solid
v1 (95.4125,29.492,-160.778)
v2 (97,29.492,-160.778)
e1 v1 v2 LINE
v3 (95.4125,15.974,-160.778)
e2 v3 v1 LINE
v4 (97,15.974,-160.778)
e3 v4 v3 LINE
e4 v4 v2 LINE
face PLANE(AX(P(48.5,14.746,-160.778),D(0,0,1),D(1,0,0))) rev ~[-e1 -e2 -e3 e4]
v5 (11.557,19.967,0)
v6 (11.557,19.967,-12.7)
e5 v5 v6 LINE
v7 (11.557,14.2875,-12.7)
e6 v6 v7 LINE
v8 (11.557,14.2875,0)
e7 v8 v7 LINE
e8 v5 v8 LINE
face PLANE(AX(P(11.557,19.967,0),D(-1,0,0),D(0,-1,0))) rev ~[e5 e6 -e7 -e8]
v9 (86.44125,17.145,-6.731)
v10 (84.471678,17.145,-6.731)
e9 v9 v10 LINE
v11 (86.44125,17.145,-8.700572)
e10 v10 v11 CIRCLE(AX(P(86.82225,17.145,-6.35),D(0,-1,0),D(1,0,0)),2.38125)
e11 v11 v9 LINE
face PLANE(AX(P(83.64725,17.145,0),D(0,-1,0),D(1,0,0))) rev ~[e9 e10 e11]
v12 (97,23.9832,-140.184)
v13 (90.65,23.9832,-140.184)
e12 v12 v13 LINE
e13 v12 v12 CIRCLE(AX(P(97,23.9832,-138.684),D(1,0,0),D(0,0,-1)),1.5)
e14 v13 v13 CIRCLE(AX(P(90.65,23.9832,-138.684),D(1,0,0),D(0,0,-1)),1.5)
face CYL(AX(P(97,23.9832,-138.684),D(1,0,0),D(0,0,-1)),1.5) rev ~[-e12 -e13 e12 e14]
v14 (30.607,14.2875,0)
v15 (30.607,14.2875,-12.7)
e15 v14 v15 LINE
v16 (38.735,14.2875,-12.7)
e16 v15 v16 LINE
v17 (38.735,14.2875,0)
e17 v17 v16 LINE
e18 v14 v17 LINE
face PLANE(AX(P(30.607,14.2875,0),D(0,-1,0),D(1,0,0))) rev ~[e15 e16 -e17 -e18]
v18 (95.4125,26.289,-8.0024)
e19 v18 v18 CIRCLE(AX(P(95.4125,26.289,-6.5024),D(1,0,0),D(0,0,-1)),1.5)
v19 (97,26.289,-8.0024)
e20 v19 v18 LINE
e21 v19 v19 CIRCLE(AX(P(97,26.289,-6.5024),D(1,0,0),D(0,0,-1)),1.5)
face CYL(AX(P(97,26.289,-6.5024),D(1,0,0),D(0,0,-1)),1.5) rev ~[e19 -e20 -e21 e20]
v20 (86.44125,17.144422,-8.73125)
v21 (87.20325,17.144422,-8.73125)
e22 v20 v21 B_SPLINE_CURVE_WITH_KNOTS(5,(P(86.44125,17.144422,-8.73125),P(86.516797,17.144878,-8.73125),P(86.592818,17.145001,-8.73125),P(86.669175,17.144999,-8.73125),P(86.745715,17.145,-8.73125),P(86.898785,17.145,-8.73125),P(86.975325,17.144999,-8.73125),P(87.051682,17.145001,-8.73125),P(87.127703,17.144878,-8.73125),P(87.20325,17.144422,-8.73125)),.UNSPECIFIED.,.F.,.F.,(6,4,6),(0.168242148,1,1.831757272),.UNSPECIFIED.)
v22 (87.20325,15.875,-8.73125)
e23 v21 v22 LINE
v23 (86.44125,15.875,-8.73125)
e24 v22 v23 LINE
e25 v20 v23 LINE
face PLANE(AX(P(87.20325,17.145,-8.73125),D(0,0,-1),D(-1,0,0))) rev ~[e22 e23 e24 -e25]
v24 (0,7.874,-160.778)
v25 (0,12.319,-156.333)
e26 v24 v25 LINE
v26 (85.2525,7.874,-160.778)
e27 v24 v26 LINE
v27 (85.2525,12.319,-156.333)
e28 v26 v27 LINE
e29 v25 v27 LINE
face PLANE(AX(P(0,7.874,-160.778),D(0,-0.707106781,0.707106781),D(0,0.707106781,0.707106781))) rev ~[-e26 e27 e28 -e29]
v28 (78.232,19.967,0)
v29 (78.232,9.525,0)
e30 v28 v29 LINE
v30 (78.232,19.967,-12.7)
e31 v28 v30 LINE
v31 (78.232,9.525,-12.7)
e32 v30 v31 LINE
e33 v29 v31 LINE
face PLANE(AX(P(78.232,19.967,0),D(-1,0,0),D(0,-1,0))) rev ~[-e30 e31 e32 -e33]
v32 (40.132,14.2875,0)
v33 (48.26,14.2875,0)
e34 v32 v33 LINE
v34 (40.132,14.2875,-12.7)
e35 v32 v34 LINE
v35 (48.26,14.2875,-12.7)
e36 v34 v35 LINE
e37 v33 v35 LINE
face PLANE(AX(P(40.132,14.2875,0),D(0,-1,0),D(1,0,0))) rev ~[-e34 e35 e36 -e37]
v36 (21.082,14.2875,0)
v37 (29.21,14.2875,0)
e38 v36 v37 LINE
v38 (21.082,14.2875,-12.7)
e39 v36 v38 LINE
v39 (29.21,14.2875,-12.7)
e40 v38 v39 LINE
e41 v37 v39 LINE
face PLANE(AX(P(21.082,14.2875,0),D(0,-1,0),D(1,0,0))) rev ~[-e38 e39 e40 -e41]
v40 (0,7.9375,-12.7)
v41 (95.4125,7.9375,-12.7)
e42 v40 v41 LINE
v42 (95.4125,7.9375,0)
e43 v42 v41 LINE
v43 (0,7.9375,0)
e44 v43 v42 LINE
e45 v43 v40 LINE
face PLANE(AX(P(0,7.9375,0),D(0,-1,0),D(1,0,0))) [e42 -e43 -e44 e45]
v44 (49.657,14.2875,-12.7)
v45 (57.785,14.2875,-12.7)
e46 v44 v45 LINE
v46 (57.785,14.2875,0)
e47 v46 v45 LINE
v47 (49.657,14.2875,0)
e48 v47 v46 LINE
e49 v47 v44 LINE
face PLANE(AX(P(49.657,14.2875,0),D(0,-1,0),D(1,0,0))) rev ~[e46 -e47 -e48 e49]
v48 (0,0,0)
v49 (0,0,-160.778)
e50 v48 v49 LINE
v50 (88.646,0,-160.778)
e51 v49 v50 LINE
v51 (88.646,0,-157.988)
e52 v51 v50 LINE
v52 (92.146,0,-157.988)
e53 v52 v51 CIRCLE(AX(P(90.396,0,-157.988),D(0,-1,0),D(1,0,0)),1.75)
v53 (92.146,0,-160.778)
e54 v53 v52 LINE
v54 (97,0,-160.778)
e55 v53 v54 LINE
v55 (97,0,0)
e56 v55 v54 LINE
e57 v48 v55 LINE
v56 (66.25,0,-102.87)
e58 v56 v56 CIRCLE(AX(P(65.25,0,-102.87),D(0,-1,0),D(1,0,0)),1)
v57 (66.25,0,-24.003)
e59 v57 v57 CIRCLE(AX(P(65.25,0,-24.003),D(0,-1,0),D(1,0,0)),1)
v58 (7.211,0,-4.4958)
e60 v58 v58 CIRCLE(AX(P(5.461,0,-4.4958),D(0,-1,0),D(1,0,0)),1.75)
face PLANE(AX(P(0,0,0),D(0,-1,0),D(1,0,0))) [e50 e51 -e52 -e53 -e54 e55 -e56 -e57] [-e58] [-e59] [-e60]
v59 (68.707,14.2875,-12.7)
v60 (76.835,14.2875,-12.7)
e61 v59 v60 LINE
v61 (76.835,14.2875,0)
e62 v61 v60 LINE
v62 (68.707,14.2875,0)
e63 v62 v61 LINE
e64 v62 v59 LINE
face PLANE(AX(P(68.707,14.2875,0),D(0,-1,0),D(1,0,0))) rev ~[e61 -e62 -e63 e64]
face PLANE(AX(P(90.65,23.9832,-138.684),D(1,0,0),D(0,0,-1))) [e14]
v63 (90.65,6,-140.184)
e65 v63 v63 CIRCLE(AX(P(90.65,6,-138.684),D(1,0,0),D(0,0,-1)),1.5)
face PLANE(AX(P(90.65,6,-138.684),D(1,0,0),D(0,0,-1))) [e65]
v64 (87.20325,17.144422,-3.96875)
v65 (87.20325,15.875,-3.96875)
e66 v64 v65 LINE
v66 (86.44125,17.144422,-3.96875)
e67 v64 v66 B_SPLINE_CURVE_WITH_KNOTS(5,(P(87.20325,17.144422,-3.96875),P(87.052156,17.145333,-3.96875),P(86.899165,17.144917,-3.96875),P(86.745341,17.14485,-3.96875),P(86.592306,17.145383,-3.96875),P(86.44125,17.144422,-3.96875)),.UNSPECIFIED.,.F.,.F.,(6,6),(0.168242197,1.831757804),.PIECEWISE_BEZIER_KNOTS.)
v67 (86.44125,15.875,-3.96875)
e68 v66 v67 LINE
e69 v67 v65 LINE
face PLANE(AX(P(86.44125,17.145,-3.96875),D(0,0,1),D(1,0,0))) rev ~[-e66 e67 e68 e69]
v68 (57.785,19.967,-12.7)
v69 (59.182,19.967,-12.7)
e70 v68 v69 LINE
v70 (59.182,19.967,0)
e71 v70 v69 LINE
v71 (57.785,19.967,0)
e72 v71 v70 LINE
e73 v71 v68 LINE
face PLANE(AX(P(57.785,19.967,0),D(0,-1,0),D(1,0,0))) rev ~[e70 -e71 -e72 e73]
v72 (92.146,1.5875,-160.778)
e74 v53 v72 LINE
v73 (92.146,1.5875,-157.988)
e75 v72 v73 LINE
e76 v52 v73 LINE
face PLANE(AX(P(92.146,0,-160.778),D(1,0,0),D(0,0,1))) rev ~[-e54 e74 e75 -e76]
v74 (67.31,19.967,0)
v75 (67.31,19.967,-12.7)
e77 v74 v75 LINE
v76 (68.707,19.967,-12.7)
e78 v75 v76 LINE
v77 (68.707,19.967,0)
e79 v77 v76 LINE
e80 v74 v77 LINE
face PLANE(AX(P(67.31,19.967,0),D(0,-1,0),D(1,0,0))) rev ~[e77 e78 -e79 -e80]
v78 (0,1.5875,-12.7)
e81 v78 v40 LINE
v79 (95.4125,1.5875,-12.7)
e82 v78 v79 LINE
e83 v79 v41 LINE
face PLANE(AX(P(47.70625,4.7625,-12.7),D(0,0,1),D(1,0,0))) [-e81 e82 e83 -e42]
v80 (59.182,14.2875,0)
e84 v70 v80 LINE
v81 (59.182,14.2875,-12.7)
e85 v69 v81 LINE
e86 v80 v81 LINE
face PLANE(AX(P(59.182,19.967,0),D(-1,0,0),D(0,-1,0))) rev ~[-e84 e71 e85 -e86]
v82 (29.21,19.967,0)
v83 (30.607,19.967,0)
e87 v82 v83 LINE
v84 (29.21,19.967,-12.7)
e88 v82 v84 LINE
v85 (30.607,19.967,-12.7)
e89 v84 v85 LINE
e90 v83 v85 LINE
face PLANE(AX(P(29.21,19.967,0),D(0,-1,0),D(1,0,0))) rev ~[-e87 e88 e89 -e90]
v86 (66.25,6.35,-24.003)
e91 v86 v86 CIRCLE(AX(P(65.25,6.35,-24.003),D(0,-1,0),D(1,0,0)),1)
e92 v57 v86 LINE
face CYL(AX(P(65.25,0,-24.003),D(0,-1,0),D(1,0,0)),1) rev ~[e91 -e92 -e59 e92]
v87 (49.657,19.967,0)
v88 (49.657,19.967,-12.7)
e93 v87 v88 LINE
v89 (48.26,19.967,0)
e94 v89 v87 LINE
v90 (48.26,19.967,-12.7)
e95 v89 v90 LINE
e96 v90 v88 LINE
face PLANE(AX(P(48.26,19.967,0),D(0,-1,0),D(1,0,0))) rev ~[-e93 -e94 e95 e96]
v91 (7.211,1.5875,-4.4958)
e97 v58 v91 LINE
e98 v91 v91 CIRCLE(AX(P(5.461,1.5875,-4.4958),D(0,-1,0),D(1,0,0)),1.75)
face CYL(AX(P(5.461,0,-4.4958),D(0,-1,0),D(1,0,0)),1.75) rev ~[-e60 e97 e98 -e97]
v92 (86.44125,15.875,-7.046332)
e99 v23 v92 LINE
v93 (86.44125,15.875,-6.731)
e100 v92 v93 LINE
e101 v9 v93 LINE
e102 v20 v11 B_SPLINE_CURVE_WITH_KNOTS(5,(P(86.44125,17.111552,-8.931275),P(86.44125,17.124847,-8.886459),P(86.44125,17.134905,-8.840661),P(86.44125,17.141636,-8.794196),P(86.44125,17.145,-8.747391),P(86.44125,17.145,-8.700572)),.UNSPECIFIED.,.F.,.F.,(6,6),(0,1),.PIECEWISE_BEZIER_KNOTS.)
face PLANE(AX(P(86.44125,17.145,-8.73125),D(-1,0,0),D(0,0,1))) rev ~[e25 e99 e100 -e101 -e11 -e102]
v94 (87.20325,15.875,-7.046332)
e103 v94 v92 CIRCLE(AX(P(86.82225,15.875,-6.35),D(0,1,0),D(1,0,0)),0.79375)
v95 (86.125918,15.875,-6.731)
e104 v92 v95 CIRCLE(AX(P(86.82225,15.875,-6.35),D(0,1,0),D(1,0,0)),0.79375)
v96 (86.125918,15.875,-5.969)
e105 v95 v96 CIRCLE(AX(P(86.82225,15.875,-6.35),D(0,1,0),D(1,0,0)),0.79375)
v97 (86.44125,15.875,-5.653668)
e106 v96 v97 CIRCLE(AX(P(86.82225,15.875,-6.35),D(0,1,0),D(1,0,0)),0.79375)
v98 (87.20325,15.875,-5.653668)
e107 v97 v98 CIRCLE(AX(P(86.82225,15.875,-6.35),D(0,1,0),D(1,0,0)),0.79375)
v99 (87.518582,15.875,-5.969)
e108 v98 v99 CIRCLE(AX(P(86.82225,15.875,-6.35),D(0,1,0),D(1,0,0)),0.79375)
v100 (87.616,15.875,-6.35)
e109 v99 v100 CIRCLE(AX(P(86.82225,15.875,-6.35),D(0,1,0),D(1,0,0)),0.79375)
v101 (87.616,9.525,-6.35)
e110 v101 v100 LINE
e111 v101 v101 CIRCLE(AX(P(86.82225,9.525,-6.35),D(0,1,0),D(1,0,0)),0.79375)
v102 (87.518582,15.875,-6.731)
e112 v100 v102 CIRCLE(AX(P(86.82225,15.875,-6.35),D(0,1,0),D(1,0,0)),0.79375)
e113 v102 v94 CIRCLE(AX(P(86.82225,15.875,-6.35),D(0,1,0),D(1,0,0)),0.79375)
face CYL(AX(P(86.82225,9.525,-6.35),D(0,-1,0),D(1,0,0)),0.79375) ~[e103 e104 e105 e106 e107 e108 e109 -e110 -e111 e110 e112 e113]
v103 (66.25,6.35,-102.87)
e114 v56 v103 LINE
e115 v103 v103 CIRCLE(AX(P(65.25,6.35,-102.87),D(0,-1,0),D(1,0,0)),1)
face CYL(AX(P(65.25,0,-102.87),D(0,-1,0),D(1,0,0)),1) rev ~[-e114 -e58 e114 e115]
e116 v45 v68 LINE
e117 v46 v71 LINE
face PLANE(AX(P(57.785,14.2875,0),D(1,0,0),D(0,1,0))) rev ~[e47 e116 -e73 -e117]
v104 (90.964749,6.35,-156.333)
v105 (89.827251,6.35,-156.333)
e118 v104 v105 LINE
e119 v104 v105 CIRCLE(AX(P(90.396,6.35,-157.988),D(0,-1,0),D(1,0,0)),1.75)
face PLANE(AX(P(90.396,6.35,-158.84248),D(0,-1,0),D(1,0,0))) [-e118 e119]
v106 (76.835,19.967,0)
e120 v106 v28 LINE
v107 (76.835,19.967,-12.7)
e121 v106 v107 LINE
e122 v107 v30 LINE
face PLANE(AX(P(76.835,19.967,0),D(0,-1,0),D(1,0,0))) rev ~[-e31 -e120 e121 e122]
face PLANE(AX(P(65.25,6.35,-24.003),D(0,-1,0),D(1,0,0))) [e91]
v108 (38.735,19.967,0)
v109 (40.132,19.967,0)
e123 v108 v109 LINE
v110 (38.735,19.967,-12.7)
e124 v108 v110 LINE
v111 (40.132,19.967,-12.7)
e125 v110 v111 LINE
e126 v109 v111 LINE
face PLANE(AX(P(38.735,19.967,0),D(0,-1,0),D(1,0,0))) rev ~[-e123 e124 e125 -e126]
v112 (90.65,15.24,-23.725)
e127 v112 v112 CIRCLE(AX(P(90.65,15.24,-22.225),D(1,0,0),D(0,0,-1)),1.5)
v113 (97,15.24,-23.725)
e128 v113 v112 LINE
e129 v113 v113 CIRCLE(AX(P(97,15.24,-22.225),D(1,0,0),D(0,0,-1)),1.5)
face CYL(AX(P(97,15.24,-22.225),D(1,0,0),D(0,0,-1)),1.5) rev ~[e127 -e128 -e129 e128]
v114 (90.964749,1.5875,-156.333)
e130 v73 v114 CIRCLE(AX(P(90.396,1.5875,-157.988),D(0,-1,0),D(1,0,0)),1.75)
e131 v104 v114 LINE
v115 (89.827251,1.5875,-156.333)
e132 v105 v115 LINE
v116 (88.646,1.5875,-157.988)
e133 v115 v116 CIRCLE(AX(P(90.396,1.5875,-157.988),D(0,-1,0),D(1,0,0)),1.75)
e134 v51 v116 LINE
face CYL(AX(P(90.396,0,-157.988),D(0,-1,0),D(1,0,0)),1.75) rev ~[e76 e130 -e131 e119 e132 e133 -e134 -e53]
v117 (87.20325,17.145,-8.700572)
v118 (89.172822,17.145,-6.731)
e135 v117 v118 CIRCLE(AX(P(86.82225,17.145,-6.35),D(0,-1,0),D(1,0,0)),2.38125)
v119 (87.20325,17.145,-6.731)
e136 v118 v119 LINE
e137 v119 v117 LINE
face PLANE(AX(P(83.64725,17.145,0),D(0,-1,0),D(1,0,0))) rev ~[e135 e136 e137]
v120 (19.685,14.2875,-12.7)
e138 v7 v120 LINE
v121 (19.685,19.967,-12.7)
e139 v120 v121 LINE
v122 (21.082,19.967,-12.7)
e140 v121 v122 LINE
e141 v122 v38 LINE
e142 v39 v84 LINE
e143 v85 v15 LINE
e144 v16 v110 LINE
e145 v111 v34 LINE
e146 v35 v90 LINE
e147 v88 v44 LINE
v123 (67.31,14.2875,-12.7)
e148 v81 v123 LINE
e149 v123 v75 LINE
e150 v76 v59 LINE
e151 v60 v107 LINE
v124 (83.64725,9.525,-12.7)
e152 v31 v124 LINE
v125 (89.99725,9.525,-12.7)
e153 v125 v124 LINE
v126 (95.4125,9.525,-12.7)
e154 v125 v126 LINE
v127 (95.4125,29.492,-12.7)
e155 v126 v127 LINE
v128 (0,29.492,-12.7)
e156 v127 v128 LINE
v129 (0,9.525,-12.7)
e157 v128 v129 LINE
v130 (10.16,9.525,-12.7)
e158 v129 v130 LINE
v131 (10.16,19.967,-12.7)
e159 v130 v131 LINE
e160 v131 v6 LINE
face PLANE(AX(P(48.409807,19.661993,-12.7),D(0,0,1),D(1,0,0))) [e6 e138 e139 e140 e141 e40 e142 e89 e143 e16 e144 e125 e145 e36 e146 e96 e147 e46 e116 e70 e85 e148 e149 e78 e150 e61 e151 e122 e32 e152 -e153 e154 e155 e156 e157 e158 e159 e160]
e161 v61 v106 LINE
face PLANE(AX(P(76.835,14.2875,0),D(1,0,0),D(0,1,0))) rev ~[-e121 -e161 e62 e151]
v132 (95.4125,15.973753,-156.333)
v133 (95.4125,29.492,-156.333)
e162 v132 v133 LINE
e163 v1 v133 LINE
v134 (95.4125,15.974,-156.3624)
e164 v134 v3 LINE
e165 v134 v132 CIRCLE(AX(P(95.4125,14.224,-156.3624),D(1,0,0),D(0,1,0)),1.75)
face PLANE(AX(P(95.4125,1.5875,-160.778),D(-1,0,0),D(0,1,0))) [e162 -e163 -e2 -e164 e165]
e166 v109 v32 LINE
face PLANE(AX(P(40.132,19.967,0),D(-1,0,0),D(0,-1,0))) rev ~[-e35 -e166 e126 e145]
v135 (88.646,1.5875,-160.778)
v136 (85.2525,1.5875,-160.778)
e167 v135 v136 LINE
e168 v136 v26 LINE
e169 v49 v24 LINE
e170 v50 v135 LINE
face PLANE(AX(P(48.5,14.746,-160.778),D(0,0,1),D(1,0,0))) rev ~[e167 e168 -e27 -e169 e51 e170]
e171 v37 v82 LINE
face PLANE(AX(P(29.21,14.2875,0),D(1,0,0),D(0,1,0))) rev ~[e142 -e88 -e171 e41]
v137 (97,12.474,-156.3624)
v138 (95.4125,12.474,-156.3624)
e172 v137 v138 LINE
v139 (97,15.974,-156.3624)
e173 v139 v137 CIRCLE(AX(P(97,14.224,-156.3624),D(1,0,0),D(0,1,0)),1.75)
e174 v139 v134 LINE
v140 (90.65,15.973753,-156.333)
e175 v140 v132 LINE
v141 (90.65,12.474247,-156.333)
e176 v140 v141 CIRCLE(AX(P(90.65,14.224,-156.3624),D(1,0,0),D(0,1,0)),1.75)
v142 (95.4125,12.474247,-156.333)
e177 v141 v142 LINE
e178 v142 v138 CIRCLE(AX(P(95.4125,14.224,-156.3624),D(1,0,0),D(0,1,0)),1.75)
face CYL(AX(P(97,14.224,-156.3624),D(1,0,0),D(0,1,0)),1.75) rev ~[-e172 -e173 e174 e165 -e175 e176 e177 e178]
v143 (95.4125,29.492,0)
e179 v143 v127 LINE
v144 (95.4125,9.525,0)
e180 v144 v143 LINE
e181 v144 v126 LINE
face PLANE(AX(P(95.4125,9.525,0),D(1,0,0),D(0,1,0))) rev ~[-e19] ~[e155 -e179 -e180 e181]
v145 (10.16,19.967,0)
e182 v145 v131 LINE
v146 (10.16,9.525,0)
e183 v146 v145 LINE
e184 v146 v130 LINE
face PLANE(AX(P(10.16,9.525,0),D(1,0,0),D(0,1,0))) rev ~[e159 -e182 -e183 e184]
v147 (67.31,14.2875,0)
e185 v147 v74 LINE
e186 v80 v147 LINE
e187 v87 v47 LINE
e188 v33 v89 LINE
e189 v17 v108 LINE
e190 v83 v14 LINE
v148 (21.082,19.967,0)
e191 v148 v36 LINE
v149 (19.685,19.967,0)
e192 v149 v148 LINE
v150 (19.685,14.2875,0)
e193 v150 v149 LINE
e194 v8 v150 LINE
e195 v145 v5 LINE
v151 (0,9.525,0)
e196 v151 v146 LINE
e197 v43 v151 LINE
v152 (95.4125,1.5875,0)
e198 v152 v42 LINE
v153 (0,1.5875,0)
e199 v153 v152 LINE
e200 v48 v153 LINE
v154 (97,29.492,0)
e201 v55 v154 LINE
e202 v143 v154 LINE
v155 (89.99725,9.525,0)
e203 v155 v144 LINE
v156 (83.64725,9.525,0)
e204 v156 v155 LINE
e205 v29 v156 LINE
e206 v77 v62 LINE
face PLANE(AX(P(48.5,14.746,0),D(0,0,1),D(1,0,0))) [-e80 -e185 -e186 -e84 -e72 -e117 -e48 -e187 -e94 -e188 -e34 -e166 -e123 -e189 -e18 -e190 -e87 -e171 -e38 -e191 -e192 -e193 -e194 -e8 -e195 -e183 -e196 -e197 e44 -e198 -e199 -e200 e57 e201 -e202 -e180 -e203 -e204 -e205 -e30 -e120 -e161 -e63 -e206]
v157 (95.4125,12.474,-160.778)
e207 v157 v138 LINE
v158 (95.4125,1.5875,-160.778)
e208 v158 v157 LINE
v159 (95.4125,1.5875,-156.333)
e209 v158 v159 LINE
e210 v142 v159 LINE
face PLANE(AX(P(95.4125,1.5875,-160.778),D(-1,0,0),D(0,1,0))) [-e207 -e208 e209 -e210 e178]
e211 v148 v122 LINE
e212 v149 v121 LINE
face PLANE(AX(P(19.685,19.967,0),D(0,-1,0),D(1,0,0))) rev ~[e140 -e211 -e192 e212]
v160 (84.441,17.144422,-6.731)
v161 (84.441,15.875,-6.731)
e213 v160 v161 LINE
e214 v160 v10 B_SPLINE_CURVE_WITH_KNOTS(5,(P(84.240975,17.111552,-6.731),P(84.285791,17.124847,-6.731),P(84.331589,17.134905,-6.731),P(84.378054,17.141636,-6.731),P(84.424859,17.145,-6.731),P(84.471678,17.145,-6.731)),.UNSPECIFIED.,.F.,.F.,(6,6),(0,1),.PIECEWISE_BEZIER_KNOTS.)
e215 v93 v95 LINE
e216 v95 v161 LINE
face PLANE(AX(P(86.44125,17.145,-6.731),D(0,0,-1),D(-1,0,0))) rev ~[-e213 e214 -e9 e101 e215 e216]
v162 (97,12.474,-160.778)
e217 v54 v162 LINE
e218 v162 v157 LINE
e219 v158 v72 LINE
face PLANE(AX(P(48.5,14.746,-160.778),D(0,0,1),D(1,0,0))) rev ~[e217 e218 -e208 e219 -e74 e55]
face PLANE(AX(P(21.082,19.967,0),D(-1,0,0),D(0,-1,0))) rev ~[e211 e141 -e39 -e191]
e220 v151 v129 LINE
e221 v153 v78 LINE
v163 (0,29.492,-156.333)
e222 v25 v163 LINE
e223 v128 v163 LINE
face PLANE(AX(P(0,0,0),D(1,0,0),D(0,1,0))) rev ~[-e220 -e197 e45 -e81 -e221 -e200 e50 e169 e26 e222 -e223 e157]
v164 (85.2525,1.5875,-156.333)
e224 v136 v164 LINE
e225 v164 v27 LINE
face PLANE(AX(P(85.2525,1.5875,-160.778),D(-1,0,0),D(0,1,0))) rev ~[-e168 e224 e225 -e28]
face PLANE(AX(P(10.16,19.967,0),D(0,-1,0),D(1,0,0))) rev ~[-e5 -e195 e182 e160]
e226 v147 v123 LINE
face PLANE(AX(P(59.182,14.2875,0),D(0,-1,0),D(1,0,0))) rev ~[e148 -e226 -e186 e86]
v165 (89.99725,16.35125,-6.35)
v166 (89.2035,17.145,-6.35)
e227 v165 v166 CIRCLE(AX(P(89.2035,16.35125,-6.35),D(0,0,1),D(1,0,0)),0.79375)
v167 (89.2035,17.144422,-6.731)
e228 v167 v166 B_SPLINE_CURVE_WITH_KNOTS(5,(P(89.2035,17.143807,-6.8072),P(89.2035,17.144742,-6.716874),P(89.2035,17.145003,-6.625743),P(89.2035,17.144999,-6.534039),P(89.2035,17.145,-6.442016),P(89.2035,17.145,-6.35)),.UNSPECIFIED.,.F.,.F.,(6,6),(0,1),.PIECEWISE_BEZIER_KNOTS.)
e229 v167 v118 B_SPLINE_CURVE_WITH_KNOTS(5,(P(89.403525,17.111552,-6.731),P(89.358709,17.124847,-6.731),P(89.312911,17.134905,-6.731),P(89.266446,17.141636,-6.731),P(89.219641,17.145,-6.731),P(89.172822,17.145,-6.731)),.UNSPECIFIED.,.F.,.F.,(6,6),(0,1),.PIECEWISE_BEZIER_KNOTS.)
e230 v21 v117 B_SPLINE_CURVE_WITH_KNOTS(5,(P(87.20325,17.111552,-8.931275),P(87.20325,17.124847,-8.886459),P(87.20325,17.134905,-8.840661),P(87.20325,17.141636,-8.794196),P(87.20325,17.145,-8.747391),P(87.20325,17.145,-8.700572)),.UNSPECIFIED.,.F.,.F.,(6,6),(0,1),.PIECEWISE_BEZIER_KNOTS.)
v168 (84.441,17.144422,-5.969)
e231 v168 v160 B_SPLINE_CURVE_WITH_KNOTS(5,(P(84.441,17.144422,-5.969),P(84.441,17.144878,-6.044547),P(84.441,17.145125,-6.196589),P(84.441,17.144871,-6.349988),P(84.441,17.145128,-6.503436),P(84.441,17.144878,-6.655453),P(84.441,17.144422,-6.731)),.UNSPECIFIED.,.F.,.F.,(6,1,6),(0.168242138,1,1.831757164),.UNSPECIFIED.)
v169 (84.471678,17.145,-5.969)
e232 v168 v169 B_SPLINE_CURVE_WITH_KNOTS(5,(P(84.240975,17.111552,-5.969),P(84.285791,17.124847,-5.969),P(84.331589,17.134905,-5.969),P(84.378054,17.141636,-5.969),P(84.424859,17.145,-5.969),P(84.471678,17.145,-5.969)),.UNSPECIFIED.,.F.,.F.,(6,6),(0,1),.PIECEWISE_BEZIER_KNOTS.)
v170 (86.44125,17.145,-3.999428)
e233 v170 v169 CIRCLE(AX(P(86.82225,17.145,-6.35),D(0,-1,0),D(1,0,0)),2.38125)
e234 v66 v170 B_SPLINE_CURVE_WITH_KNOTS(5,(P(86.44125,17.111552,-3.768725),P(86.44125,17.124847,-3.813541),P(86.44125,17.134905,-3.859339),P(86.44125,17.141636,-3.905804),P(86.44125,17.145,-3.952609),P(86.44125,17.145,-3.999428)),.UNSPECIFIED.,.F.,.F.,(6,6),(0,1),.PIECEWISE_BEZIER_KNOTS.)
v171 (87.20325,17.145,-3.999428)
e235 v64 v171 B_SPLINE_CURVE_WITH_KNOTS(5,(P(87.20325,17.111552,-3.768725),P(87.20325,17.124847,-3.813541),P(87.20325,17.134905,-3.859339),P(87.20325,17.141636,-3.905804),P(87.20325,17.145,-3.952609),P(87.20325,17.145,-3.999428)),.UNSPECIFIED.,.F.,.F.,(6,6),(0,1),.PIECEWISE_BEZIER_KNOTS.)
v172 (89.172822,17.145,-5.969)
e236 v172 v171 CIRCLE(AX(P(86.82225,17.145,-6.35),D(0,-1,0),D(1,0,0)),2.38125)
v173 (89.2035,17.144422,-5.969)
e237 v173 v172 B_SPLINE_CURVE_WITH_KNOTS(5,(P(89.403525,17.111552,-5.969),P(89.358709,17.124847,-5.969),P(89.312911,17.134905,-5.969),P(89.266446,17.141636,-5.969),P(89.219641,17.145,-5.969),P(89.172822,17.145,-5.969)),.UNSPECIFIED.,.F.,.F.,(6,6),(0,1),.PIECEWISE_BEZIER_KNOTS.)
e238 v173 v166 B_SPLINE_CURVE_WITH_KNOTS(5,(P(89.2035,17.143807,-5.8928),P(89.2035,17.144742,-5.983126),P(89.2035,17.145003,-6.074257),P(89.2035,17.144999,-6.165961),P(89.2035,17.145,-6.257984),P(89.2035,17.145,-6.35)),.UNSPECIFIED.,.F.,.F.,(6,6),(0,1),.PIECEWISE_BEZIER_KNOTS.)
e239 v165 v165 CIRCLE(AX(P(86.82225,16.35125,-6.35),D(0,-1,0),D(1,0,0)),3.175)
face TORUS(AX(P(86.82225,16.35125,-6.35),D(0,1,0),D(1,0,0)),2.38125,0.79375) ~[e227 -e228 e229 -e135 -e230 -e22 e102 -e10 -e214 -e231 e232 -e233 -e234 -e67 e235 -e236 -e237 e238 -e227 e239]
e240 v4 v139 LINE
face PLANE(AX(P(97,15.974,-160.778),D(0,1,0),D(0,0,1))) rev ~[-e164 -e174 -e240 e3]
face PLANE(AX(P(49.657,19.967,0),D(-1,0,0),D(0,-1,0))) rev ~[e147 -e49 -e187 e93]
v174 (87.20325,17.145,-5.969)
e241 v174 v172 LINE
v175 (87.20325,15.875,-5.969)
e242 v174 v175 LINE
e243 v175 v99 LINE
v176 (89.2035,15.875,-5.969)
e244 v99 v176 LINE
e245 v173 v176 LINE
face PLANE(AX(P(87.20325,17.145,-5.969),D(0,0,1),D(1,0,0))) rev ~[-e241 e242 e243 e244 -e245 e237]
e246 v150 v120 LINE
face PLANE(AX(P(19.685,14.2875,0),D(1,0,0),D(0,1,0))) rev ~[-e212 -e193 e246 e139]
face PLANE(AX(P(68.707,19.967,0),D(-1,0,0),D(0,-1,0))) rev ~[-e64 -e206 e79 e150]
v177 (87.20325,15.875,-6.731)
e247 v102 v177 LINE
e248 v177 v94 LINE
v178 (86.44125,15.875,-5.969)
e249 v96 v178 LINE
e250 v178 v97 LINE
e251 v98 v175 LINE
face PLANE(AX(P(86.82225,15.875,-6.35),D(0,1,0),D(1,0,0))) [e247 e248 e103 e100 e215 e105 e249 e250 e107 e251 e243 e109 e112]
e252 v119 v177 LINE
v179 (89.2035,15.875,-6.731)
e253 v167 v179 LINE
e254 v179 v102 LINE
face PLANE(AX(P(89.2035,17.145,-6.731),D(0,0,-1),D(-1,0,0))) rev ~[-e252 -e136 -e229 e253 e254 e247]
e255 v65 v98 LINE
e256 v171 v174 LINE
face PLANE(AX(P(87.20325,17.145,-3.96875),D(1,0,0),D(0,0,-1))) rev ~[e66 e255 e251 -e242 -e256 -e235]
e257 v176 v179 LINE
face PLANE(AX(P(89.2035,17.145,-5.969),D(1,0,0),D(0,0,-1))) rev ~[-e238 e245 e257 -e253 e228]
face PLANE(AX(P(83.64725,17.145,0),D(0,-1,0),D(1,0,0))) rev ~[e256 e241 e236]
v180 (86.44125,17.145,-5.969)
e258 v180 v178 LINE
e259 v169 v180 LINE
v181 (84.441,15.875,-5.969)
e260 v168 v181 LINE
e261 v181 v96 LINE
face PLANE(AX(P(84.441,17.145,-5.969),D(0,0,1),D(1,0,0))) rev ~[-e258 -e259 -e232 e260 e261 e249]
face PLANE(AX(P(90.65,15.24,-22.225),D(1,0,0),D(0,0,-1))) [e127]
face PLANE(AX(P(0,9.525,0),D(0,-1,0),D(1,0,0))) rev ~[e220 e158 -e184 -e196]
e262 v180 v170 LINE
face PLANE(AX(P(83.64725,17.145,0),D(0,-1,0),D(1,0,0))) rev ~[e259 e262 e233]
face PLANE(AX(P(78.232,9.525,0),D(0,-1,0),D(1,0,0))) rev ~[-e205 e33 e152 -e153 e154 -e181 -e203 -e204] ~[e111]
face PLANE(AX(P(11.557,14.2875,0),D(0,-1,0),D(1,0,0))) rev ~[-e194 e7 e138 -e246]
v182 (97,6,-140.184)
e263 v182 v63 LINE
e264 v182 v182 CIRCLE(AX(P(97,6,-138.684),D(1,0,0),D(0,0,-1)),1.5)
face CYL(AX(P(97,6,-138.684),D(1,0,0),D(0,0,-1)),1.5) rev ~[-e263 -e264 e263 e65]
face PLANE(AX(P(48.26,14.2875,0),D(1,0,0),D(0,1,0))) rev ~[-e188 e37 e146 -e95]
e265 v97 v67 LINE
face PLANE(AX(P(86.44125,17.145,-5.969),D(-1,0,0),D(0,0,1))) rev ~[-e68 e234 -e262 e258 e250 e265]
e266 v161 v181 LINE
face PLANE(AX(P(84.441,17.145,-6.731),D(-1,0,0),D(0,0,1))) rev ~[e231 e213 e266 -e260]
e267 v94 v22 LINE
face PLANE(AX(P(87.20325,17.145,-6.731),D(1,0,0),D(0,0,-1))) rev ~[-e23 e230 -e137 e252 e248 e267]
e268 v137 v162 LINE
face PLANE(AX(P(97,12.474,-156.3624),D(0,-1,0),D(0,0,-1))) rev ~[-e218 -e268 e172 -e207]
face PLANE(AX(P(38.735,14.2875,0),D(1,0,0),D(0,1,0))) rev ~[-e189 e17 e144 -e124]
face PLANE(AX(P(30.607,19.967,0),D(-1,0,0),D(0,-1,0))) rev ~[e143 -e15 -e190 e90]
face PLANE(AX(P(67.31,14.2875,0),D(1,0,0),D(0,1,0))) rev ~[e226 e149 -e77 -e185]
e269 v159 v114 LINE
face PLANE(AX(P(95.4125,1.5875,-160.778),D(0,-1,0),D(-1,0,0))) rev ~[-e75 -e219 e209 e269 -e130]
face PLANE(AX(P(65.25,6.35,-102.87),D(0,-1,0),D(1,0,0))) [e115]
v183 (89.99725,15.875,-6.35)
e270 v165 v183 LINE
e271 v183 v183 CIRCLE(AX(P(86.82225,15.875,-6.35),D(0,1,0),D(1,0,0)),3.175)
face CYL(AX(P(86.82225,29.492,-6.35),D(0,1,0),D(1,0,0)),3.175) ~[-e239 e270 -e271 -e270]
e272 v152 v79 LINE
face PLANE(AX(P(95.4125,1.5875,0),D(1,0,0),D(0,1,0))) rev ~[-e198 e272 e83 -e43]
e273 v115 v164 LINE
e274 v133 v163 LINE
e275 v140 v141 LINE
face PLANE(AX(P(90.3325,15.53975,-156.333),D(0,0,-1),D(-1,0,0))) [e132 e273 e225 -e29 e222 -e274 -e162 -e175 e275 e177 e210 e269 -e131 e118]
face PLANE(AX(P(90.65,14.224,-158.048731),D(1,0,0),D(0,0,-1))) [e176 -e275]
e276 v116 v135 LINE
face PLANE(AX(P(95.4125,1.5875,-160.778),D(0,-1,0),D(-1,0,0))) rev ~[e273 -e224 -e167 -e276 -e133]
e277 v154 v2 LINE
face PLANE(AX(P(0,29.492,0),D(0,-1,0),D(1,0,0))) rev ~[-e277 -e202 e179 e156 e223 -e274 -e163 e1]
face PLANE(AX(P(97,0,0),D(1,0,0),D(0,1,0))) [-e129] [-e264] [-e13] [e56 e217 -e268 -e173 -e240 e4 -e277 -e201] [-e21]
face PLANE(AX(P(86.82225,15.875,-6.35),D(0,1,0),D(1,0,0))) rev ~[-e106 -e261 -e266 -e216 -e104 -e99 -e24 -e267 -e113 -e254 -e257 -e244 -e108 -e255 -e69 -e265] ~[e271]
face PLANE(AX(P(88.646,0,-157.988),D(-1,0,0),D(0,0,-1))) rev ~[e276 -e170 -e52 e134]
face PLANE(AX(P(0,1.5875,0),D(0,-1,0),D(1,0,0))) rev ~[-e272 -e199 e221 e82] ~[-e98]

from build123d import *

# Parameters (mm, degrees)
SKETCH1_W           = 97
SKETCH1_H           = 29.491999944
BOSS_EXTRUDE1_DEPTH = 160.778000008
SKETCH2_W           = 95.4125
SKETCH2_H           = 6.35
CUT_EXTRUDE1_DEPTH  = 12.7
CUT_EXTRUDE2_DEPTH  = 19.967
SKETCH4_R           = 3.175
SKETCH4_R_2         = 0.79375
CUT_EXTRUDE3_DEPTH  = 6.35
FILLET1_R           = 0.79375
CUT_EXTRUDE4_DEPTH  = 1.27
SKETCH6_W           = 10.16
SKETCH6_H           = 27.904499944
CUT_EXTRUDE6_DEPTH  = 4.445
SKETCH7_R           = 1.5
CUT_EXTRUDE7_DEPTH  = 6.35
SKETCH8_R           = 1
SKETCH8_R_2         = 1.75
CUT_EXTRUDE8_DEPTH  = 6.35
CUT_EXTRUDE9_DEPTH  = 95.4125


with BuildPart() as part:
    # Sketch1 → Boss-Extrude1 (new body)
    with BuildSketch(Plane.XY):
        with Locations((48.5, 14.745999972)):
            Rectangle(SKETCH1_W, SKETCH1_H)
    extrude(amount=-BOSS_EXTRUDE1_DEPTH)

    # Sketch2 → Cut-Extrude1 (cut)
    with BuildSketch(Plane.XY):
        Polygon((95.4125, 9.525), (95.4125, 29.491999944), (0, 29.491999944), (0, 9.525), (10.16, 9.525), (10.16, 19.966999944), (11.557, 19.966999944), (11.557, 14.2875), (19.685, 14.2875), (19.685, 19.966999944), (21.082, 19.966999944), (21.082, 14.2875), (29.21, 14.2875), (29.21, 19.966999944), (30.607, 19.966999944), (30.607, 14.2875), (38.735, 14.2875), (38.735, 19.966999944), (40.132, 19.966999944), (40.132, 14.2875), (48.26, 14.2875), (48.26, 19.966999944), (49.657, 19.966999944), (49.657, 14.2875), (57.785, 14.2875), (57.785, 19.966999944), (59.182, 19.966999944), (59.182, 14.2875), (67.31, 14.2875), (67.31, 19.966999944), (68.707, 19.966999944), (68.707, 14.2875), (76.835, 14.2875), (76.835, 19.966999944), (78.232, 19.966999944), (78.232, 9.525), (83.64725, 9.525), (83.64725, 17.145), (89.99725, 17.145), (89.99725, 9.525), align=None)
        with Locations((47.70625, 4.7625)):
            Rectangle(SKETCH2_W, SKETCH2_H)
    extrude(amount=-CUT_EXTRUDE1_DEPTH, mode=Mode.SUBTRACT)

    # Sketch3 → Cut-Extrude2 (cut)
    with BuildSketch(Plane(origin=(0, 29.491999944, 0), x_dir=(1, 0, 0), z_dir=(0, 1, 0))):
        with BuildLine():
            ThreePointArc((89.99725, 6.35), (86.82225, 3.175), (83.64725, 6.35))
            Line((83.64725, 6.35), (83.64725, 0))
            Line((83.64725, 0), (89.99725, 0))
            Line((89.99725, 0), (89.99725, 6.35))
        make_face()
        with BuildLine():
            Line((89.99725, 12.7), (83.64725, 12.7))
            Line((83.64725, 12.7), (83.64725, 6.35))
            ThreePointArc((83.64725, 6.35), (86.82225, 9.525), (89.99725, 6.35))
            Line((89.99725, 6.35), (89.99725, 12.7))
        make_face()
    extrude(amount=-CUT_EXTRUDE2_DEPTH, mode=Mode.SUBTRACT)

    # Sketch4 → Cut-Extrude3 (cut)
    with BuildSketch(Plane(origin=(0, 9.525, 0), x_dir=(1, 0, 0), z_dir=(0, 1, 0))):
        with Locations((86.82225, 6.35)):
            Circle(SKETCH4_R)
        with Locations((86.82225, 6.35)):
            Circle(SKETCH4_R_2, mode=Mode.SUBTRACT)
    extrude(amount=CUT_EXTRUDE3_DEPTH, mode=Mode.SUBTRACT)

    # Fillet1
    fillet1_edges = [part.edges().sort_by_distance(p)[0] for p in [
        (83.64725, 17.145, -6.35),
    ]]
    fillet(fillet1_edges, radius=FILLET1_R)

    # Sketch5 → Cut-Extrude4 (cut)
    with BuildSketch(Plane(origin=(0, 17.145, 0), x_dir=(1, 0, 0), z_dir=(0, 1, 0))):
        Polygon((86.44125, 8.73125), (86.44125, 6.731), (84.441, 6.731), (84.441, 5.969), (86.44125, 5.969), (86.44125, 3.96875), (87.20325, 3.96875), (87.20325, 5.969), (89.2035, 5.969), (89.2035, 6.731), (87.20325, 6.731), (87.20325, 8.73125), align=None)
    extrude(amount=-CUT_EXTRUDE4_DEPTH, mode=Mode.SUBTRACT)

    # Sketch6 → Cut-Extrude6 (cut)
    with BuildSketch(Plane(origin=(0, 0, -160.778000008), x_dir=(-1, 0, 0), z_dir=(0, 0, -1))):
        with Locations((-90.3325, 15.539749972)):
            Rectangle(SKETCH6_W, SKETCH6_H)
    extrude(amount=-CUT_EXTRUDE6_DEPTH, mode=Mode.SUBTRACT)

    # Sketch7 → Cut-Extrude7 (cut)
    with BuildSketch(Plane(origin=(97, 0, 0), x_dir=(0, 0, -1), z_dir=(1, 0, 0))):
        with Locations((6.5024, 26.289)):
            Circle(SKETCH7_R)
        with Locations((22.225, 15.24)):
            Circle(SKETCH7_R)
        with Locations((138.684, 6)):
            Circle(SKETCH7_R)
        with Locations((138.684, 23.9832)):
            Circle(SKETCH7_R)
        with BuildLine():
            Line((160.778000008, 15.974), (156.3624, 15.974))
            ThreePointArc((156.3624, 15.974), (154.6124, 14.224), (156.3624, 12.474))
            Line((156.3624, 12.474), (160.778000008, 12.474))
            Line((160.778000008, 12.474), (160.778000008, 15.974))
        make_face()
    extrude(amount=-CUT_EXTRUDE7_DEPTH, mode=Mode.SUBTRACT)

    # Sketch8 → Cut-Extrude8 (cut)
    with BuildSketch(Plane.XZ):
        with Locations((65.25, -24.003)):
            Circle(SKETCH8_R)
        with Locations((65.25, -102.87)):
            Circle(SKETCH8_R)
        with Locations((5.461, -4.4958)):
            Circle(SKETCH8_R_2)
        with BuildLine():
            Line((92.146, -160.778000008), (92.146, -157.988))
            ThreePointArc((92.146, -157.988), (90.396, -156.238), (88.646, -157.988))
            Line((88.646, -157.988), (88.646, -160.778000008))
            Line((88.646, -160.778000008), (92.146, -160.778000008))
        make_face()
    extrude(amount=-CUT_EXTRUDE8_DEPTH, mode=Mode.SUBTRACT)

    # Sketch9 → Cut-Extrude9 (cut)
    with BuildSketch(Plane.ZY):
        Polygon((-160.778000008, 7.874), (-156.333000008, 12.319), (-156.333000008, 29.491999944), (-160.778000008, 29.491999944), align=None)
    extrude(amount=-CUT_EXTRUDE9_DEPTH, mode=Mode.SUBTRACT)


solid = part.part
